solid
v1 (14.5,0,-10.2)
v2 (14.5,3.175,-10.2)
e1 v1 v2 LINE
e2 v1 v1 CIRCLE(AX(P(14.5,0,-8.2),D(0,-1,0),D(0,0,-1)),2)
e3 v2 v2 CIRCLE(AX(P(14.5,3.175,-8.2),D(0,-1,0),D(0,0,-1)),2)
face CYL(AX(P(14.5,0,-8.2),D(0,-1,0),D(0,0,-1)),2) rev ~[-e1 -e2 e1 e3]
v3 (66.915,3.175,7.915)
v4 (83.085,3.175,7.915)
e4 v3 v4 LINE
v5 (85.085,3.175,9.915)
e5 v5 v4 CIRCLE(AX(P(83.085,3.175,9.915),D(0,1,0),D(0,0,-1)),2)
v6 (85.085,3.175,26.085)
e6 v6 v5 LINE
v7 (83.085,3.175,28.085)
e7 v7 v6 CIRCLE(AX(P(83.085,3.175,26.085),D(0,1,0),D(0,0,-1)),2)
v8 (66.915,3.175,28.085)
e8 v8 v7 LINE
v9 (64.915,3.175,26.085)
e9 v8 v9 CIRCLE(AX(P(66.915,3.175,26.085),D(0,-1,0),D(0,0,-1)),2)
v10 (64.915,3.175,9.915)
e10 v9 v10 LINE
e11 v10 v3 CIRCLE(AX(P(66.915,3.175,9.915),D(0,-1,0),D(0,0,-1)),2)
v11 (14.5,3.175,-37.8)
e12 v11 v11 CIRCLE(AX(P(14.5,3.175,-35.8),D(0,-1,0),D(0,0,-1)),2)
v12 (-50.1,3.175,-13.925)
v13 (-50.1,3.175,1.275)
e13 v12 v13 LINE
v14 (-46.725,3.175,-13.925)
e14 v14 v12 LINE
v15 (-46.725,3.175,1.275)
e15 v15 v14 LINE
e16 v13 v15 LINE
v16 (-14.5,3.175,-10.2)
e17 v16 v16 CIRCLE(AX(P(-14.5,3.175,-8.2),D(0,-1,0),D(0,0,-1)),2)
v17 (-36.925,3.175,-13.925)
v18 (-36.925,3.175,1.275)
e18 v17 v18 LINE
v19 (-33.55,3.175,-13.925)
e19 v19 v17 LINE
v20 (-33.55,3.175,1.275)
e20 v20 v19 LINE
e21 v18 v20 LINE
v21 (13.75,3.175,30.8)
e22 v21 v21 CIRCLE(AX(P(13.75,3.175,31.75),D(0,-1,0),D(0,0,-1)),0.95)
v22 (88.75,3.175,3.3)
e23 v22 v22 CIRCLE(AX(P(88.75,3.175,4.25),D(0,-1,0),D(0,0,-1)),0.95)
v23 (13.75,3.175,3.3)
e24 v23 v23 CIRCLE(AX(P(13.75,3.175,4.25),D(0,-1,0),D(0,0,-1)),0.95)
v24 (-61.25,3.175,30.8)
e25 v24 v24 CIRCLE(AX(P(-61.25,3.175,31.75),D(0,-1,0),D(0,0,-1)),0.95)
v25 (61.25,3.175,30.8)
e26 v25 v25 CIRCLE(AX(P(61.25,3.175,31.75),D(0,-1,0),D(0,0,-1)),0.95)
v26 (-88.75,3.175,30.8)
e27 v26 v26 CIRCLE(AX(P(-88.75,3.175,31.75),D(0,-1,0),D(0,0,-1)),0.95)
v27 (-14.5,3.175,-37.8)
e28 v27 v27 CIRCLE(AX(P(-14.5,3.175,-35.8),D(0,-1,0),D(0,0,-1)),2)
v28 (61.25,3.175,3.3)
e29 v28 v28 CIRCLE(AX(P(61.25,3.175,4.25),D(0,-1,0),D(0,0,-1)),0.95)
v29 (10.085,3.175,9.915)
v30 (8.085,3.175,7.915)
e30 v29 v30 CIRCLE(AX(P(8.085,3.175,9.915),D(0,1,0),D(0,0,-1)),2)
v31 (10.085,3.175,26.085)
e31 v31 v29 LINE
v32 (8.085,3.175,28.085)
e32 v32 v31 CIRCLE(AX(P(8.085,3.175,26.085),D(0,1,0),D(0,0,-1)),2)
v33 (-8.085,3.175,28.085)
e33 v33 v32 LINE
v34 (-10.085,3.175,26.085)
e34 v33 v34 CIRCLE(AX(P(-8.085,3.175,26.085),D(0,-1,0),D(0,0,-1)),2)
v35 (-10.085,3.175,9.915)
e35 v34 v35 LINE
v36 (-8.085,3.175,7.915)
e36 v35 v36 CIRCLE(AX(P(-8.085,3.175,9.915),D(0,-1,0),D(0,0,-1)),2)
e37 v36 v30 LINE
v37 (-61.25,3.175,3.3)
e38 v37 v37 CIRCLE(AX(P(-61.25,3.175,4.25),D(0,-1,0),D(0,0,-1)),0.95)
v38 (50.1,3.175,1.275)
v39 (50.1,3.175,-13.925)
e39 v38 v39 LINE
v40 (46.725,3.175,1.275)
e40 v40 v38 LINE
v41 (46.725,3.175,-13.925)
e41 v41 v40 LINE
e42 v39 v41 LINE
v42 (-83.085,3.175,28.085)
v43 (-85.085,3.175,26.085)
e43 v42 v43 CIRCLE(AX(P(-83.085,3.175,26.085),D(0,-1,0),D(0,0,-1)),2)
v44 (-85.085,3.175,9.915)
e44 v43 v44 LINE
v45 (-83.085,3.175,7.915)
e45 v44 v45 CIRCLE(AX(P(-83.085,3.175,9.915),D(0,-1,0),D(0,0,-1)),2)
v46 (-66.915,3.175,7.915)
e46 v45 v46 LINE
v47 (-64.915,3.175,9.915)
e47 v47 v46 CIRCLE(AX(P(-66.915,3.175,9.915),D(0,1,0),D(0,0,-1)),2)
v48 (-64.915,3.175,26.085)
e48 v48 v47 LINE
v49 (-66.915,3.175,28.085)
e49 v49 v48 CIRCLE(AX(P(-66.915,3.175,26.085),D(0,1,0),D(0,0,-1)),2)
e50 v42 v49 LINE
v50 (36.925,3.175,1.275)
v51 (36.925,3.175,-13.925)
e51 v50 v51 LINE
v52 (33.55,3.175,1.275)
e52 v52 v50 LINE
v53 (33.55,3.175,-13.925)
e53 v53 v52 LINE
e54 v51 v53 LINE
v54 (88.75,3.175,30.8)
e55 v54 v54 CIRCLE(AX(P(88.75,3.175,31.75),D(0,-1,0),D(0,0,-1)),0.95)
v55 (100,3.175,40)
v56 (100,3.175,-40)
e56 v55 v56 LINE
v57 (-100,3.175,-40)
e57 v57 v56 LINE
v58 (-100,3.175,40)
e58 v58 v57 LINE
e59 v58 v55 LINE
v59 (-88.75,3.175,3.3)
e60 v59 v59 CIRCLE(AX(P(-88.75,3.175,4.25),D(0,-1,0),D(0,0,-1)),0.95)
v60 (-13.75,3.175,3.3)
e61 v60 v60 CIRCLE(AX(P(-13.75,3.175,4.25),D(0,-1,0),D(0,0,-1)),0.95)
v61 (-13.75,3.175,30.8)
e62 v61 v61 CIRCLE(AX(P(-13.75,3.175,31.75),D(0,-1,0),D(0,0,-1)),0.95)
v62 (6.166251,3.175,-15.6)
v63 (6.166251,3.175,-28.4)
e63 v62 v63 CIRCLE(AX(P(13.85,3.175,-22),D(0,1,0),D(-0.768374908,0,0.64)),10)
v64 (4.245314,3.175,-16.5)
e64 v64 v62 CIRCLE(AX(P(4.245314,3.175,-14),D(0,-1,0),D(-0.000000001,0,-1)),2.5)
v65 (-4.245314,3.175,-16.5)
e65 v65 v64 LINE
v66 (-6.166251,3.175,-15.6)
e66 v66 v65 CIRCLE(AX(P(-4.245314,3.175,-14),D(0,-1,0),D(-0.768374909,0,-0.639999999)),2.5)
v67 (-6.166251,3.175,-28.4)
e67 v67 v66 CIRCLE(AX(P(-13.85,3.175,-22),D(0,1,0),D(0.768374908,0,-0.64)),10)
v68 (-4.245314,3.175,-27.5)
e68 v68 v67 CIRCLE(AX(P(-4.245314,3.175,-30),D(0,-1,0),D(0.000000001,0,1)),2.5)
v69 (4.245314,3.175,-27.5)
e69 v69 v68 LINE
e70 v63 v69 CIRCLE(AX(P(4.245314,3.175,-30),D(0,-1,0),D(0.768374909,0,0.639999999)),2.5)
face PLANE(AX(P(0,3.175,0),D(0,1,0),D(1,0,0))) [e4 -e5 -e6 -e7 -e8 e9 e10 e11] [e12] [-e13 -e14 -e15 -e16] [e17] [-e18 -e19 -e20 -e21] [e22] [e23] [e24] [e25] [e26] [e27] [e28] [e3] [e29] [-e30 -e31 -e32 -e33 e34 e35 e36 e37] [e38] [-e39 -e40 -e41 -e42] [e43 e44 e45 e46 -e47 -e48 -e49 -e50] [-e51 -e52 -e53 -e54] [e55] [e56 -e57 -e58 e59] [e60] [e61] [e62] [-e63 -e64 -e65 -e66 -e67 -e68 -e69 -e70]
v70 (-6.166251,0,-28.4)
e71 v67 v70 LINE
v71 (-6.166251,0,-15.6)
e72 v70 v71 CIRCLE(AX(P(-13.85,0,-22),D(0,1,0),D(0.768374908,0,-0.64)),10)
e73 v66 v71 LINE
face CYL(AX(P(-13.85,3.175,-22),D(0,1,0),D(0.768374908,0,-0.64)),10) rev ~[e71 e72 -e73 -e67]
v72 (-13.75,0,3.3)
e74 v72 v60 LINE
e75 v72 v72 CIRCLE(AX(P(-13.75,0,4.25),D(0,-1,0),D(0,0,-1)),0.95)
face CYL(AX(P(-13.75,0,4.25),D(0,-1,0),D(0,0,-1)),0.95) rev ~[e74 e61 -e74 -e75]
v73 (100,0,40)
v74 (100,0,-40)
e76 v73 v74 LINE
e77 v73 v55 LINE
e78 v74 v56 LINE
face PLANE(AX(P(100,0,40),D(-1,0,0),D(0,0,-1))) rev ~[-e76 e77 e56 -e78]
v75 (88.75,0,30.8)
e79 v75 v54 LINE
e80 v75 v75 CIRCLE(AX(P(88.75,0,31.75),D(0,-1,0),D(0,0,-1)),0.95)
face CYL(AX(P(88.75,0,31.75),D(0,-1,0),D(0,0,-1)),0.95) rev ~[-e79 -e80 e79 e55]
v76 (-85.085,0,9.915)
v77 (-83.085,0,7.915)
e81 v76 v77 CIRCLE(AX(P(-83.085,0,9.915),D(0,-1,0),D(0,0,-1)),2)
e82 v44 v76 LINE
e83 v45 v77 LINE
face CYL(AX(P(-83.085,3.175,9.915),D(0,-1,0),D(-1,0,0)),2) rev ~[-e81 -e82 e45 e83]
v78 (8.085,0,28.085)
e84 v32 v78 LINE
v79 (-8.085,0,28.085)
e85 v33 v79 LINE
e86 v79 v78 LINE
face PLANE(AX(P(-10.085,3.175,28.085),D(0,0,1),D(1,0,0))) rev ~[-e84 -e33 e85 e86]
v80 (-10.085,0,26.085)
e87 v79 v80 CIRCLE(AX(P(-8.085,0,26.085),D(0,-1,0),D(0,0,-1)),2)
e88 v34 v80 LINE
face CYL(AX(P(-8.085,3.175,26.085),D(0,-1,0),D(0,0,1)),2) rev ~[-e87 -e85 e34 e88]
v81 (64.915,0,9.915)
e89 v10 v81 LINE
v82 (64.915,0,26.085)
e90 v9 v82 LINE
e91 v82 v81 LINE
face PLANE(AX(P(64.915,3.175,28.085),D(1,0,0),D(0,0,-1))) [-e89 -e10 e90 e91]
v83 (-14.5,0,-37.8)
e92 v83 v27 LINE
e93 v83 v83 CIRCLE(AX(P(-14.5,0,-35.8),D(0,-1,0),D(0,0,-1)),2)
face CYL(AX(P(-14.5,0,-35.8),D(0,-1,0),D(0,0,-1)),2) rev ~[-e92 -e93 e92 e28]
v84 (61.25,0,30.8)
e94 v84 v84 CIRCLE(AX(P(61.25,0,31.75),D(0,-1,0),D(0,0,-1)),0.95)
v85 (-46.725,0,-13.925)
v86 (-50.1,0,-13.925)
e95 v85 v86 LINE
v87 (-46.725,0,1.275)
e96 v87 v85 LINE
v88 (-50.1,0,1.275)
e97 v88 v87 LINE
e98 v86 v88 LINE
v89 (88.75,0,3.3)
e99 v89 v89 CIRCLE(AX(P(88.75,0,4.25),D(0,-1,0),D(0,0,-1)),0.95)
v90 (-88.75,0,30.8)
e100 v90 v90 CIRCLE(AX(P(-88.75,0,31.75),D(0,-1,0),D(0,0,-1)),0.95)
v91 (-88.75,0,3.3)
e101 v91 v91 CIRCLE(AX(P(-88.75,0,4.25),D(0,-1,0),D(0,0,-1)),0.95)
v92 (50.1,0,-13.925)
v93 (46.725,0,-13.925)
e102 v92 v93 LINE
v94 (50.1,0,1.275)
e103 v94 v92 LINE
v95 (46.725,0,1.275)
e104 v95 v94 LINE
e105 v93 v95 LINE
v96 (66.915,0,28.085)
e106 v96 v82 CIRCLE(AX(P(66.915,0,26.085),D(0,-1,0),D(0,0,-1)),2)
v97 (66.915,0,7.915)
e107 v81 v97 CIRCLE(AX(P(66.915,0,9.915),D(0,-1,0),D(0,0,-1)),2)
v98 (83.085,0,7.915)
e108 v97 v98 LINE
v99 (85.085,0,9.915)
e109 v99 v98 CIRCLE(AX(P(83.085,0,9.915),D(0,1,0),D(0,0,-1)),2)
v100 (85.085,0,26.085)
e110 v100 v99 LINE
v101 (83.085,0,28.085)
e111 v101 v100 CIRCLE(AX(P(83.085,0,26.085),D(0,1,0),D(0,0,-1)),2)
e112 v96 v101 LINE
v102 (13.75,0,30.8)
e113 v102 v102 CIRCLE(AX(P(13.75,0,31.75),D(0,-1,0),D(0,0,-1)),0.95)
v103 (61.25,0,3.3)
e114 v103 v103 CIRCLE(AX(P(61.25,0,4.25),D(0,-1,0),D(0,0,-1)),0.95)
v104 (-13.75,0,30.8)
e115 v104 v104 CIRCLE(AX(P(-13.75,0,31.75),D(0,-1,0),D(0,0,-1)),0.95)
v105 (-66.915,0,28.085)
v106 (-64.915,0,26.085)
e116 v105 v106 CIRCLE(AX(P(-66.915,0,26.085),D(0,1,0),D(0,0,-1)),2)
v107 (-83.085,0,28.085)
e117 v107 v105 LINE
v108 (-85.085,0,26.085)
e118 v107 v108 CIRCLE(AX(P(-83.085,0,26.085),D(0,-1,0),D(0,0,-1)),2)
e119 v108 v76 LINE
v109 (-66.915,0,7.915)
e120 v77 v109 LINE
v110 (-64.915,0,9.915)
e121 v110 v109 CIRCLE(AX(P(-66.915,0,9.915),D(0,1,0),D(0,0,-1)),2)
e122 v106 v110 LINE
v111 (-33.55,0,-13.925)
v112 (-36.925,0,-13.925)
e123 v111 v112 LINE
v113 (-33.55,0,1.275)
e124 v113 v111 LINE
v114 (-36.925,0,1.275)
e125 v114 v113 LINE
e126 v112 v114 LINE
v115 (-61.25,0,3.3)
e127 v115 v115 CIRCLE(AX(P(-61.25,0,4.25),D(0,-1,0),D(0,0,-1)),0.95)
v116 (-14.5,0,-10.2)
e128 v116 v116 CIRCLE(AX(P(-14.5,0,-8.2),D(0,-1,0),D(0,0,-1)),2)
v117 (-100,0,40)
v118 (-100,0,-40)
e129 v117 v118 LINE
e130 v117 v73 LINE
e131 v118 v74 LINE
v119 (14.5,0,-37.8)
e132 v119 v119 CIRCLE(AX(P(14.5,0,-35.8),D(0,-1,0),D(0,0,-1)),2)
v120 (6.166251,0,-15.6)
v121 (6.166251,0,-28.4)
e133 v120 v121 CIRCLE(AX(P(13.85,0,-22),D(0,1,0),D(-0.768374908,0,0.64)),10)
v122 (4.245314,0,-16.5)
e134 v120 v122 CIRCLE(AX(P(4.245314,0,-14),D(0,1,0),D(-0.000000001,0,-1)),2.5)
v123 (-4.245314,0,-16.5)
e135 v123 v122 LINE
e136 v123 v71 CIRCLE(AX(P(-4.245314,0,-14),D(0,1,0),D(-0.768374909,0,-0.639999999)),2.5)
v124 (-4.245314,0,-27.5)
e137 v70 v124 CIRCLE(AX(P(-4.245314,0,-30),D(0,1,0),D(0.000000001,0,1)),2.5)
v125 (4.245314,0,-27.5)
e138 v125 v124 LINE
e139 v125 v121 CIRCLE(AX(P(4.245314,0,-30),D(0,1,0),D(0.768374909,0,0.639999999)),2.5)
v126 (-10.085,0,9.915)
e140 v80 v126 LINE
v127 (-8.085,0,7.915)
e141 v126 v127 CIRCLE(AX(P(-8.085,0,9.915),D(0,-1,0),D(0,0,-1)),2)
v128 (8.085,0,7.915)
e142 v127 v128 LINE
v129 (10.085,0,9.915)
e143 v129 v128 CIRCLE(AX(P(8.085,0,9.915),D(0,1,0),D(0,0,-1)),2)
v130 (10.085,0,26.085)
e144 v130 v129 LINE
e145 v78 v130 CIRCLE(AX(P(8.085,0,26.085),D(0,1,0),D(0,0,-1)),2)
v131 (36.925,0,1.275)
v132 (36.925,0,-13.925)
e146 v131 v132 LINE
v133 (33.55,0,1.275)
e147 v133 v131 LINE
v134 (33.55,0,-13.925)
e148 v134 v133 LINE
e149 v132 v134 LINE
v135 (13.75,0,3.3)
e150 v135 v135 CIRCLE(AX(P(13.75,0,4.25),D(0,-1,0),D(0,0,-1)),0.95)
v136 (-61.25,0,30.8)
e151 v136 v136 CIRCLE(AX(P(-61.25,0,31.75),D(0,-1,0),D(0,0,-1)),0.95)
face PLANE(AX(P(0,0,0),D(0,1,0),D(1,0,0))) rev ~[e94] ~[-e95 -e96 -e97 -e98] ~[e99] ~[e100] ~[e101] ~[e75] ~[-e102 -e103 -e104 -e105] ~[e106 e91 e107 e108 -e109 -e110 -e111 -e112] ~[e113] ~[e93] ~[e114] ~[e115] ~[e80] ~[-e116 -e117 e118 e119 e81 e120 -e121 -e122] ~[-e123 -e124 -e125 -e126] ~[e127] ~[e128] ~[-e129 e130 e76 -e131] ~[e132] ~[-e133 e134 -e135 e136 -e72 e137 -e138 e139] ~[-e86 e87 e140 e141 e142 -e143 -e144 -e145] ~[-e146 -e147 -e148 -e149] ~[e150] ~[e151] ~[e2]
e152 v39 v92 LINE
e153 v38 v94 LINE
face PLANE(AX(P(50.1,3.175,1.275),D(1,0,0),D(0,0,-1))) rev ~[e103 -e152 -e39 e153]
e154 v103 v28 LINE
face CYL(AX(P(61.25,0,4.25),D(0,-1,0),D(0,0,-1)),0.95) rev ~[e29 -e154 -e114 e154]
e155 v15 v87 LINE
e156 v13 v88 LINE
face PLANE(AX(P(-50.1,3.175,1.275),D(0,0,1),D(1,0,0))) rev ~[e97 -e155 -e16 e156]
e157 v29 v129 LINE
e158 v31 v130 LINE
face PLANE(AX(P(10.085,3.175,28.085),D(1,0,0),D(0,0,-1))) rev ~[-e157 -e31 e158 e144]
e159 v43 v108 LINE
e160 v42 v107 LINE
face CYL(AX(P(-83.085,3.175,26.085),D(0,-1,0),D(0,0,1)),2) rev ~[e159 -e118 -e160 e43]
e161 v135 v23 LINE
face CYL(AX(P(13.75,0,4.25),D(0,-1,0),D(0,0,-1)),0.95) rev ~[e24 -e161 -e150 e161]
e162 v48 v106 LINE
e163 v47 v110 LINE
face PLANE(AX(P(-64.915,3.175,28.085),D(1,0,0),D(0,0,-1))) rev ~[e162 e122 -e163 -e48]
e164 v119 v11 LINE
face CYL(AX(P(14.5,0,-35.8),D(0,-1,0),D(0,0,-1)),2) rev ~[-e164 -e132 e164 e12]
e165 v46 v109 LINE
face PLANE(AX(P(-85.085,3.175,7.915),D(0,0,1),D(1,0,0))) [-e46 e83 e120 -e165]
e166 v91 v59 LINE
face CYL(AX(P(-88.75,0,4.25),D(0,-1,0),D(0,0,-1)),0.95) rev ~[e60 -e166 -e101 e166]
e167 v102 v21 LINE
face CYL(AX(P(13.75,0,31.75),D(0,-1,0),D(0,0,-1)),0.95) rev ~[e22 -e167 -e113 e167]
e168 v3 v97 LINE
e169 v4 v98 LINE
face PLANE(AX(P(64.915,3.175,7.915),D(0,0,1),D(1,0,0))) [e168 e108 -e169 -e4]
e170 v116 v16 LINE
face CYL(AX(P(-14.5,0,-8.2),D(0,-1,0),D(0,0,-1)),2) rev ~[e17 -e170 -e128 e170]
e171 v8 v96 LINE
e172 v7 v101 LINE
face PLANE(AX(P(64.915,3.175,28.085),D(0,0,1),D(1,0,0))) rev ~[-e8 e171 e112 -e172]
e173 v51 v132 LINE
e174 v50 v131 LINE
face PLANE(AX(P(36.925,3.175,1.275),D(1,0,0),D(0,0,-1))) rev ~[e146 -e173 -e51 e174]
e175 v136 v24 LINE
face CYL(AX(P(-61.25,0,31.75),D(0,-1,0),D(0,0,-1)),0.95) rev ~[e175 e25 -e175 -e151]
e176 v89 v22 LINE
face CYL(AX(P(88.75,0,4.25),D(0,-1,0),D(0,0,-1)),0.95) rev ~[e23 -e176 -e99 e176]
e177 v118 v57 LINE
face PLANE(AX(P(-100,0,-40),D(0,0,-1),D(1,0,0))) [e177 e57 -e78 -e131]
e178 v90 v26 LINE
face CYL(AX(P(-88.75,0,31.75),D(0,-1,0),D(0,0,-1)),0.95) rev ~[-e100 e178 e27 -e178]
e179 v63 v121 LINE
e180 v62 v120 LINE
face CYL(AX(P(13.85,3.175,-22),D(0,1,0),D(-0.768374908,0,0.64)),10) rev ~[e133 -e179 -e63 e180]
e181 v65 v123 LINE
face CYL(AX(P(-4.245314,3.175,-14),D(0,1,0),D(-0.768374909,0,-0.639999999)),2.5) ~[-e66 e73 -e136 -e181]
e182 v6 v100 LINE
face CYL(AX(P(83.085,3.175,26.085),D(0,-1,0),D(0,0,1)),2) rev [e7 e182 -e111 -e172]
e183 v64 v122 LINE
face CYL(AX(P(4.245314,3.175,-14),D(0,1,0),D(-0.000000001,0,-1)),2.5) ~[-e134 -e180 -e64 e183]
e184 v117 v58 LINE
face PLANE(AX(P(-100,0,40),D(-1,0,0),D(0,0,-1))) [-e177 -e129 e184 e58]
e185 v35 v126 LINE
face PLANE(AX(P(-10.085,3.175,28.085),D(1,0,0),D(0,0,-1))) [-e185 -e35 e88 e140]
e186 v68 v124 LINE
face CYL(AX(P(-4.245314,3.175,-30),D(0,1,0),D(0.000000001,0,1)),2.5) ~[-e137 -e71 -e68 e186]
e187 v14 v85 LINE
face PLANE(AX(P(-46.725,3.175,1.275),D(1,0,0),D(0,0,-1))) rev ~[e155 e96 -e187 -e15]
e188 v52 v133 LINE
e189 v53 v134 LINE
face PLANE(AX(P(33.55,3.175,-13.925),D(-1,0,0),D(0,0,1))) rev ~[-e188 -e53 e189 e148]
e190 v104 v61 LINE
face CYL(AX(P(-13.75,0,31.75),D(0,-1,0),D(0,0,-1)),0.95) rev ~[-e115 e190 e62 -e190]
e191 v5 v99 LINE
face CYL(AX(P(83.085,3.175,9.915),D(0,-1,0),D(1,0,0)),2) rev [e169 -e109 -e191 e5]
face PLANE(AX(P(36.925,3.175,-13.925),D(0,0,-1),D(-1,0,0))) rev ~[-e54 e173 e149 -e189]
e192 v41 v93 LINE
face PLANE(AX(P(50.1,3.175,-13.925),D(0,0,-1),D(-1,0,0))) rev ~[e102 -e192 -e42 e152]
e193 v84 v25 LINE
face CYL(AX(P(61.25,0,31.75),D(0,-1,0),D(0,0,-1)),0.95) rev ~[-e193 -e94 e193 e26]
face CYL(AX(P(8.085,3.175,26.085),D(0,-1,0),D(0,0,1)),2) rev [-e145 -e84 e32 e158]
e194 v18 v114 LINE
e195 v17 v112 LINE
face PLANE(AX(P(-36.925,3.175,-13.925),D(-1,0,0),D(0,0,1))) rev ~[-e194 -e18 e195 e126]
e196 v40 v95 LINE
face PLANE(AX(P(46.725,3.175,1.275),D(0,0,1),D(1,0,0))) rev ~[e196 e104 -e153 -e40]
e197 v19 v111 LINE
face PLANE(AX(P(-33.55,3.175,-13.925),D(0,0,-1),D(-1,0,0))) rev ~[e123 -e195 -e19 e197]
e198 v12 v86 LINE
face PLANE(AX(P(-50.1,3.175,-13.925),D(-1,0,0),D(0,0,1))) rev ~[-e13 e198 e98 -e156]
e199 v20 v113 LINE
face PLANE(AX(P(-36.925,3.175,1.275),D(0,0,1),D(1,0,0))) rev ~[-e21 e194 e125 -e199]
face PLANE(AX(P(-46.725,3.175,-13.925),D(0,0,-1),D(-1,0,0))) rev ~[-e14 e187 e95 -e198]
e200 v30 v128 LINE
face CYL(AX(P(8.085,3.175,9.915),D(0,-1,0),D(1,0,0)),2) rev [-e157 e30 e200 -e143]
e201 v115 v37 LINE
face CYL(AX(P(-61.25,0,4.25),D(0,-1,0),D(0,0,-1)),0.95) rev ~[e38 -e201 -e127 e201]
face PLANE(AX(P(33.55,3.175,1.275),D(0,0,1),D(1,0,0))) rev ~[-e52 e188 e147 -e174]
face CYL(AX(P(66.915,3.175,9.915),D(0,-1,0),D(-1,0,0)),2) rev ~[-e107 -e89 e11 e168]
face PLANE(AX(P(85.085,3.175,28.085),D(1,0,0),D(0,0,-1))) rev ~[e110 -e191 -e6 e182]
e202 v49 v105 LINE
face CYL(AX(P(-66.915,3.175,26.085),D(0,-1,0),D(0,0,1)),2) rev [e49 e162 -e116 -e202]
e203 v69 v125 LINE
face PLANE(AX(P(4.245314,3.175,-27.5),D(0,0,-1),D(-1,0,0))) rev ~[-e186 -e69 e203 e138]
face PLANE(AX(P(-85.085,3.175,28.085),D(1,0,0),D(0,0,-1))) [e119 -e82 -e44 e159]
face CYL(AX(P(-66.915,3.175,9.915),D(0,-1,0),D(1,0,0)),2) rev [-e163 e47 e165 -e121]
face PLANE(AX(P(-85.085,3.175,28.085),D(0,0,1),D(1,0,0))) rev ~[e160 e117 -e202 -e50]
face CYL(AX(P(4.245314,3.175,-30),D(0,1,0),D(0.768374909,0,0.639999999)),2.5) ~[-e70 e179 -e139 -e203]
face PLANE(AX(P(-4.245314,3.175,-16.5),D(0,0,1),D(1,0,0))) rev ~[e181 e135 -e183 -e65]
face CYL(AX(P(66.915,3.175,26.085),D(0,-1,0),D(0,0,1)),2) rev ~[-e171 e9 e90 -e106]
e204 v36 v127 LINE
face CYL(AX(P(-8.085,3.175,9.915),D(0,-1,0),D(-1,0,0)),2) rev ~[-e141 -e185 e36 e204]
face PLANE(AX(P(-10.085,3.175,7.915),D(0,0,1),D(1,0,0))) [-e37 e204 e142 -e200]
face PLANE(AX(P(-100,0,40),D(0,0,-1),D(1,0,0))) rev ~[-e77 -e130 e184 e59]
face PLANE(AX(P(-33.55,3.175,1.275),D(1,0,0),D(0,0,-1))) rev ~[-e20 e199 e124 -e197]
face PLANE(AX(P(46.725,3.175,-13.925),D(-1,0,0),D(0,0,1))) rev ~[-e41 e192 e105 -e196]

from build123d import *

# Parameters (mm, degrees)
SKETCH1_W           = 200
SKETCH1_H           = 80
BOSS_EXTRUDE1_DEPTH = 3.175
SKETCH3_W           = 20.17
SKETCH3_H           = 20.17
CUT_EXTRUDE2_DEPTH  = 108.750084107
SKETCH5_R           = 2
CUT_EXTRUDE3_DEPTH  = 108.750084107
SKETCH6_R           = 0.95
CUT_EXTRUDE4_DEPTH  = 108.750084107
CUT_EXTRUDE5_DEPTH  = 108.750084107
FILLET1_R           = 2


with BuildPart() as part:
    # Sketch1 → Boss-Extrude1 (new body)
    with BuildSketch(Plane(origin=(0, 0, 0), x_dir=(1, 0, 0), z_dir=(0, 1, 0))):
        Rectangle(SKETCH1_W, SKETCH1_H)
    extrude(amount=BOSS_EXTRUDE1_DEPTH)

    # Sketch3 → Cut-Extrude2 (cut, through all)
    with BuildSketch(Plane(origin=(0, 3.175, 0), x_dir=(1, 0, 0), z_dir=(0, 1, 0))):
        with Locations((75, -18)):
            Rectangle(SKETCH3_W, SKETCH3_H)
        with Locations((-75, -18)):
            Rectangle(SKETCH3_W, SKETCH3_H)
        with Locations((0, -18)):
            Rectangle(SKETCH3_W, SKETCH3_H)
        with BuildLine():
            Line((4.245313644, 27.5), (-4.245313644, 27.5))
            ThreePointArc((-4.245313644, 27.5), (-5.305973816, 27.736153715), (-6.166250915, 28.4))
            ThreePointArc((-6.166250915, 28.4), (-23.85, 22), (-6.166250915, 15.6))
            ThreePointArc((-6.166250915, 15.6), (-5.305973816, 16.263846285), (-4.245313644, 16.5))
            Line((-4.245313644, 16.5), (4.245313644, 16.5))
            ThreePointArc((4.245313644, 16.5), (5.305973816, 16.263846285), (6.166250915, 15.6))
            ThreePointArc((6.166250915, 15.6), (23.85, 22), (6.166250915, 28.4))
            ThreePointArc((6.166250915, 28.4), (5.305973816, 27.736153715), (4.245313644, 27.5))
        make_face()
    extrude(amount=-CUT_EXTRUDE2_DEPTH, mode=Mode.SUBTRACT)

    # Sketch5 → Cut-Extrude3 (cut, through all)
    with BuildSketch(Plane.XZ):
        with Locations(Location((14.5, -8.2, 0), (0, 0, 270))):
            Circle(SKETCH5_R)
        with Locations(Location((-14.5, -8.2, 0), (0, 0, 270))):
            Circle(SKETCH5_R)
        with Locations(Location((14.5, -35.8, 0), (0, 0, 270))):
            Circle(SKETCH5_R)
        with Locations(Location((-14.5, -35.8, 0), (0, 0, 270))):
            Circle(SKETCH5_R)
    extrude(amount=-CUT_EXTRUDE3_DEPTH, mode=Mode.SUBTRACT)

    # Sketch6 → Cut-Extrude4 (cut, through all)
    with BuildSketch(Plane.XZ):
        with Locations(Location((-61.25, 4.25, 0), (0, 0, 270))):
            Circle(SKETCH6_R)
        with Locations(Location((13.75, 4.25, 0), (0, 0, 270))):
            Circle(SKETCH6_R)
        with Locations(Location((-88.75, 4.25, 0), (0, 0, 270))):
            Circle(SKETCH6_R)
        with Locations(Location((-61.25, 31.75, 0), (0, 0, 270))):
            Circle(SKETCH6_R)
        with Locations(Location((-13.75, 4.25, 0), (0, 0, 270))):
            Circle(SKETCH6_R)
        with Locations(Location((-13.75, 31.75, 0), (0, 0, 270))):
            Circle(SKETCH6_R)
        with Locations(Location((13.75, 31.75, 0), (0, 0, 270))):
            Circle(SKETCH6_R)
        with Locations(Location((88.75, 31.75, 0), (0, 0, 270))):
            Circle(SKETCH6_R)
        with Locations(Location((61.25, 31.75, 0), (0, 0, 270))):
            Circle(SKETCH6_R)
        with Locations(Location((61.25, 4.25, 0), (0, 0, 270))):
            Circle(SKETCH6_R)
        with Locations(Location((88.75, 4.25, 0), (0, 0, 270))):
            Circle(SKETCH6_R)
        with Locations(Location((-88.75, 31.75, 0), (0, 0, 270))):
            Circle(SKETCH6_R)
    extrude(amount=-CUT_EXTRUDE4_DEPTH, mode=Mode.SUBTRACT)

    # Sketch7 → Cut-Extrude5 (cut, through all)
    with BuildSketch(Plane(origin=(0, 3.175, 0), x_dir=(1, 0, 0), z_dir=(0, 1, 0))):
        Polygon((-50.1, 13.925), (-50.1, 12.825), (-50.1, -0.175), (-50.1, -1.275), (-46.725, -1.275), (-46.725, -0.175), (-46.725, 12.825), (-46.725, 13.925), align=None)
        Polygon((-36.925, -0.175), (-36.925, -1.275), (-33.55, -1.275), (-33.55, -0.175), (-33.55, 12.825), (-33.55, 13.925), (-36.925, 13.925), (-36.925, 12.825), align=None)
        Polygon((33.55, 13.925), (33.55, 12.825), (33.55, -0.175), (33.55, -1.275), (36.925, -1.275), (36.925, -0.175), (36.925, 12.825), (36.925, 13.925), align=None)
        Polygon((46.725, -0.175), (46.725, -1.275), (50.1, -1.275), (50.1, -0.175), (50.1, 12.825), (50.1, 13.925), (46.725, 13.925), (46.725, 12.825), align=None)
    extrude(amount=-CUT_EXTRUDE5_DEPTH, mode=Mode.SUBTRACT)

    # Fillet1
    fillet1_edges = [part.edges().sort_by_distance(p)[0] for p in [
        (85.085, 1.5875, 7.915),
        (85.085, 1.5875, 28.085),
        (64.915, 1.5875, 28.085),
        (64.915, 1.5875, 7.915),
        (-64.915, 1.5875, 7.915),
        (-64.915, 1.5875, 28.085),
        (-85.085, 1.5875, 28.085),
        (-85.085, 1.5875, 7.915),
        (10.085, 1.5875, 7.915),
        (10.085, 1.5875, 28.085),
        (-10.085, 1.5875, 28.085),
        (-10.085, 1.5875, 7.915),
    ]]
    fillet(fillet1_edges, radius=FILLET1_R)


solid = part.part
